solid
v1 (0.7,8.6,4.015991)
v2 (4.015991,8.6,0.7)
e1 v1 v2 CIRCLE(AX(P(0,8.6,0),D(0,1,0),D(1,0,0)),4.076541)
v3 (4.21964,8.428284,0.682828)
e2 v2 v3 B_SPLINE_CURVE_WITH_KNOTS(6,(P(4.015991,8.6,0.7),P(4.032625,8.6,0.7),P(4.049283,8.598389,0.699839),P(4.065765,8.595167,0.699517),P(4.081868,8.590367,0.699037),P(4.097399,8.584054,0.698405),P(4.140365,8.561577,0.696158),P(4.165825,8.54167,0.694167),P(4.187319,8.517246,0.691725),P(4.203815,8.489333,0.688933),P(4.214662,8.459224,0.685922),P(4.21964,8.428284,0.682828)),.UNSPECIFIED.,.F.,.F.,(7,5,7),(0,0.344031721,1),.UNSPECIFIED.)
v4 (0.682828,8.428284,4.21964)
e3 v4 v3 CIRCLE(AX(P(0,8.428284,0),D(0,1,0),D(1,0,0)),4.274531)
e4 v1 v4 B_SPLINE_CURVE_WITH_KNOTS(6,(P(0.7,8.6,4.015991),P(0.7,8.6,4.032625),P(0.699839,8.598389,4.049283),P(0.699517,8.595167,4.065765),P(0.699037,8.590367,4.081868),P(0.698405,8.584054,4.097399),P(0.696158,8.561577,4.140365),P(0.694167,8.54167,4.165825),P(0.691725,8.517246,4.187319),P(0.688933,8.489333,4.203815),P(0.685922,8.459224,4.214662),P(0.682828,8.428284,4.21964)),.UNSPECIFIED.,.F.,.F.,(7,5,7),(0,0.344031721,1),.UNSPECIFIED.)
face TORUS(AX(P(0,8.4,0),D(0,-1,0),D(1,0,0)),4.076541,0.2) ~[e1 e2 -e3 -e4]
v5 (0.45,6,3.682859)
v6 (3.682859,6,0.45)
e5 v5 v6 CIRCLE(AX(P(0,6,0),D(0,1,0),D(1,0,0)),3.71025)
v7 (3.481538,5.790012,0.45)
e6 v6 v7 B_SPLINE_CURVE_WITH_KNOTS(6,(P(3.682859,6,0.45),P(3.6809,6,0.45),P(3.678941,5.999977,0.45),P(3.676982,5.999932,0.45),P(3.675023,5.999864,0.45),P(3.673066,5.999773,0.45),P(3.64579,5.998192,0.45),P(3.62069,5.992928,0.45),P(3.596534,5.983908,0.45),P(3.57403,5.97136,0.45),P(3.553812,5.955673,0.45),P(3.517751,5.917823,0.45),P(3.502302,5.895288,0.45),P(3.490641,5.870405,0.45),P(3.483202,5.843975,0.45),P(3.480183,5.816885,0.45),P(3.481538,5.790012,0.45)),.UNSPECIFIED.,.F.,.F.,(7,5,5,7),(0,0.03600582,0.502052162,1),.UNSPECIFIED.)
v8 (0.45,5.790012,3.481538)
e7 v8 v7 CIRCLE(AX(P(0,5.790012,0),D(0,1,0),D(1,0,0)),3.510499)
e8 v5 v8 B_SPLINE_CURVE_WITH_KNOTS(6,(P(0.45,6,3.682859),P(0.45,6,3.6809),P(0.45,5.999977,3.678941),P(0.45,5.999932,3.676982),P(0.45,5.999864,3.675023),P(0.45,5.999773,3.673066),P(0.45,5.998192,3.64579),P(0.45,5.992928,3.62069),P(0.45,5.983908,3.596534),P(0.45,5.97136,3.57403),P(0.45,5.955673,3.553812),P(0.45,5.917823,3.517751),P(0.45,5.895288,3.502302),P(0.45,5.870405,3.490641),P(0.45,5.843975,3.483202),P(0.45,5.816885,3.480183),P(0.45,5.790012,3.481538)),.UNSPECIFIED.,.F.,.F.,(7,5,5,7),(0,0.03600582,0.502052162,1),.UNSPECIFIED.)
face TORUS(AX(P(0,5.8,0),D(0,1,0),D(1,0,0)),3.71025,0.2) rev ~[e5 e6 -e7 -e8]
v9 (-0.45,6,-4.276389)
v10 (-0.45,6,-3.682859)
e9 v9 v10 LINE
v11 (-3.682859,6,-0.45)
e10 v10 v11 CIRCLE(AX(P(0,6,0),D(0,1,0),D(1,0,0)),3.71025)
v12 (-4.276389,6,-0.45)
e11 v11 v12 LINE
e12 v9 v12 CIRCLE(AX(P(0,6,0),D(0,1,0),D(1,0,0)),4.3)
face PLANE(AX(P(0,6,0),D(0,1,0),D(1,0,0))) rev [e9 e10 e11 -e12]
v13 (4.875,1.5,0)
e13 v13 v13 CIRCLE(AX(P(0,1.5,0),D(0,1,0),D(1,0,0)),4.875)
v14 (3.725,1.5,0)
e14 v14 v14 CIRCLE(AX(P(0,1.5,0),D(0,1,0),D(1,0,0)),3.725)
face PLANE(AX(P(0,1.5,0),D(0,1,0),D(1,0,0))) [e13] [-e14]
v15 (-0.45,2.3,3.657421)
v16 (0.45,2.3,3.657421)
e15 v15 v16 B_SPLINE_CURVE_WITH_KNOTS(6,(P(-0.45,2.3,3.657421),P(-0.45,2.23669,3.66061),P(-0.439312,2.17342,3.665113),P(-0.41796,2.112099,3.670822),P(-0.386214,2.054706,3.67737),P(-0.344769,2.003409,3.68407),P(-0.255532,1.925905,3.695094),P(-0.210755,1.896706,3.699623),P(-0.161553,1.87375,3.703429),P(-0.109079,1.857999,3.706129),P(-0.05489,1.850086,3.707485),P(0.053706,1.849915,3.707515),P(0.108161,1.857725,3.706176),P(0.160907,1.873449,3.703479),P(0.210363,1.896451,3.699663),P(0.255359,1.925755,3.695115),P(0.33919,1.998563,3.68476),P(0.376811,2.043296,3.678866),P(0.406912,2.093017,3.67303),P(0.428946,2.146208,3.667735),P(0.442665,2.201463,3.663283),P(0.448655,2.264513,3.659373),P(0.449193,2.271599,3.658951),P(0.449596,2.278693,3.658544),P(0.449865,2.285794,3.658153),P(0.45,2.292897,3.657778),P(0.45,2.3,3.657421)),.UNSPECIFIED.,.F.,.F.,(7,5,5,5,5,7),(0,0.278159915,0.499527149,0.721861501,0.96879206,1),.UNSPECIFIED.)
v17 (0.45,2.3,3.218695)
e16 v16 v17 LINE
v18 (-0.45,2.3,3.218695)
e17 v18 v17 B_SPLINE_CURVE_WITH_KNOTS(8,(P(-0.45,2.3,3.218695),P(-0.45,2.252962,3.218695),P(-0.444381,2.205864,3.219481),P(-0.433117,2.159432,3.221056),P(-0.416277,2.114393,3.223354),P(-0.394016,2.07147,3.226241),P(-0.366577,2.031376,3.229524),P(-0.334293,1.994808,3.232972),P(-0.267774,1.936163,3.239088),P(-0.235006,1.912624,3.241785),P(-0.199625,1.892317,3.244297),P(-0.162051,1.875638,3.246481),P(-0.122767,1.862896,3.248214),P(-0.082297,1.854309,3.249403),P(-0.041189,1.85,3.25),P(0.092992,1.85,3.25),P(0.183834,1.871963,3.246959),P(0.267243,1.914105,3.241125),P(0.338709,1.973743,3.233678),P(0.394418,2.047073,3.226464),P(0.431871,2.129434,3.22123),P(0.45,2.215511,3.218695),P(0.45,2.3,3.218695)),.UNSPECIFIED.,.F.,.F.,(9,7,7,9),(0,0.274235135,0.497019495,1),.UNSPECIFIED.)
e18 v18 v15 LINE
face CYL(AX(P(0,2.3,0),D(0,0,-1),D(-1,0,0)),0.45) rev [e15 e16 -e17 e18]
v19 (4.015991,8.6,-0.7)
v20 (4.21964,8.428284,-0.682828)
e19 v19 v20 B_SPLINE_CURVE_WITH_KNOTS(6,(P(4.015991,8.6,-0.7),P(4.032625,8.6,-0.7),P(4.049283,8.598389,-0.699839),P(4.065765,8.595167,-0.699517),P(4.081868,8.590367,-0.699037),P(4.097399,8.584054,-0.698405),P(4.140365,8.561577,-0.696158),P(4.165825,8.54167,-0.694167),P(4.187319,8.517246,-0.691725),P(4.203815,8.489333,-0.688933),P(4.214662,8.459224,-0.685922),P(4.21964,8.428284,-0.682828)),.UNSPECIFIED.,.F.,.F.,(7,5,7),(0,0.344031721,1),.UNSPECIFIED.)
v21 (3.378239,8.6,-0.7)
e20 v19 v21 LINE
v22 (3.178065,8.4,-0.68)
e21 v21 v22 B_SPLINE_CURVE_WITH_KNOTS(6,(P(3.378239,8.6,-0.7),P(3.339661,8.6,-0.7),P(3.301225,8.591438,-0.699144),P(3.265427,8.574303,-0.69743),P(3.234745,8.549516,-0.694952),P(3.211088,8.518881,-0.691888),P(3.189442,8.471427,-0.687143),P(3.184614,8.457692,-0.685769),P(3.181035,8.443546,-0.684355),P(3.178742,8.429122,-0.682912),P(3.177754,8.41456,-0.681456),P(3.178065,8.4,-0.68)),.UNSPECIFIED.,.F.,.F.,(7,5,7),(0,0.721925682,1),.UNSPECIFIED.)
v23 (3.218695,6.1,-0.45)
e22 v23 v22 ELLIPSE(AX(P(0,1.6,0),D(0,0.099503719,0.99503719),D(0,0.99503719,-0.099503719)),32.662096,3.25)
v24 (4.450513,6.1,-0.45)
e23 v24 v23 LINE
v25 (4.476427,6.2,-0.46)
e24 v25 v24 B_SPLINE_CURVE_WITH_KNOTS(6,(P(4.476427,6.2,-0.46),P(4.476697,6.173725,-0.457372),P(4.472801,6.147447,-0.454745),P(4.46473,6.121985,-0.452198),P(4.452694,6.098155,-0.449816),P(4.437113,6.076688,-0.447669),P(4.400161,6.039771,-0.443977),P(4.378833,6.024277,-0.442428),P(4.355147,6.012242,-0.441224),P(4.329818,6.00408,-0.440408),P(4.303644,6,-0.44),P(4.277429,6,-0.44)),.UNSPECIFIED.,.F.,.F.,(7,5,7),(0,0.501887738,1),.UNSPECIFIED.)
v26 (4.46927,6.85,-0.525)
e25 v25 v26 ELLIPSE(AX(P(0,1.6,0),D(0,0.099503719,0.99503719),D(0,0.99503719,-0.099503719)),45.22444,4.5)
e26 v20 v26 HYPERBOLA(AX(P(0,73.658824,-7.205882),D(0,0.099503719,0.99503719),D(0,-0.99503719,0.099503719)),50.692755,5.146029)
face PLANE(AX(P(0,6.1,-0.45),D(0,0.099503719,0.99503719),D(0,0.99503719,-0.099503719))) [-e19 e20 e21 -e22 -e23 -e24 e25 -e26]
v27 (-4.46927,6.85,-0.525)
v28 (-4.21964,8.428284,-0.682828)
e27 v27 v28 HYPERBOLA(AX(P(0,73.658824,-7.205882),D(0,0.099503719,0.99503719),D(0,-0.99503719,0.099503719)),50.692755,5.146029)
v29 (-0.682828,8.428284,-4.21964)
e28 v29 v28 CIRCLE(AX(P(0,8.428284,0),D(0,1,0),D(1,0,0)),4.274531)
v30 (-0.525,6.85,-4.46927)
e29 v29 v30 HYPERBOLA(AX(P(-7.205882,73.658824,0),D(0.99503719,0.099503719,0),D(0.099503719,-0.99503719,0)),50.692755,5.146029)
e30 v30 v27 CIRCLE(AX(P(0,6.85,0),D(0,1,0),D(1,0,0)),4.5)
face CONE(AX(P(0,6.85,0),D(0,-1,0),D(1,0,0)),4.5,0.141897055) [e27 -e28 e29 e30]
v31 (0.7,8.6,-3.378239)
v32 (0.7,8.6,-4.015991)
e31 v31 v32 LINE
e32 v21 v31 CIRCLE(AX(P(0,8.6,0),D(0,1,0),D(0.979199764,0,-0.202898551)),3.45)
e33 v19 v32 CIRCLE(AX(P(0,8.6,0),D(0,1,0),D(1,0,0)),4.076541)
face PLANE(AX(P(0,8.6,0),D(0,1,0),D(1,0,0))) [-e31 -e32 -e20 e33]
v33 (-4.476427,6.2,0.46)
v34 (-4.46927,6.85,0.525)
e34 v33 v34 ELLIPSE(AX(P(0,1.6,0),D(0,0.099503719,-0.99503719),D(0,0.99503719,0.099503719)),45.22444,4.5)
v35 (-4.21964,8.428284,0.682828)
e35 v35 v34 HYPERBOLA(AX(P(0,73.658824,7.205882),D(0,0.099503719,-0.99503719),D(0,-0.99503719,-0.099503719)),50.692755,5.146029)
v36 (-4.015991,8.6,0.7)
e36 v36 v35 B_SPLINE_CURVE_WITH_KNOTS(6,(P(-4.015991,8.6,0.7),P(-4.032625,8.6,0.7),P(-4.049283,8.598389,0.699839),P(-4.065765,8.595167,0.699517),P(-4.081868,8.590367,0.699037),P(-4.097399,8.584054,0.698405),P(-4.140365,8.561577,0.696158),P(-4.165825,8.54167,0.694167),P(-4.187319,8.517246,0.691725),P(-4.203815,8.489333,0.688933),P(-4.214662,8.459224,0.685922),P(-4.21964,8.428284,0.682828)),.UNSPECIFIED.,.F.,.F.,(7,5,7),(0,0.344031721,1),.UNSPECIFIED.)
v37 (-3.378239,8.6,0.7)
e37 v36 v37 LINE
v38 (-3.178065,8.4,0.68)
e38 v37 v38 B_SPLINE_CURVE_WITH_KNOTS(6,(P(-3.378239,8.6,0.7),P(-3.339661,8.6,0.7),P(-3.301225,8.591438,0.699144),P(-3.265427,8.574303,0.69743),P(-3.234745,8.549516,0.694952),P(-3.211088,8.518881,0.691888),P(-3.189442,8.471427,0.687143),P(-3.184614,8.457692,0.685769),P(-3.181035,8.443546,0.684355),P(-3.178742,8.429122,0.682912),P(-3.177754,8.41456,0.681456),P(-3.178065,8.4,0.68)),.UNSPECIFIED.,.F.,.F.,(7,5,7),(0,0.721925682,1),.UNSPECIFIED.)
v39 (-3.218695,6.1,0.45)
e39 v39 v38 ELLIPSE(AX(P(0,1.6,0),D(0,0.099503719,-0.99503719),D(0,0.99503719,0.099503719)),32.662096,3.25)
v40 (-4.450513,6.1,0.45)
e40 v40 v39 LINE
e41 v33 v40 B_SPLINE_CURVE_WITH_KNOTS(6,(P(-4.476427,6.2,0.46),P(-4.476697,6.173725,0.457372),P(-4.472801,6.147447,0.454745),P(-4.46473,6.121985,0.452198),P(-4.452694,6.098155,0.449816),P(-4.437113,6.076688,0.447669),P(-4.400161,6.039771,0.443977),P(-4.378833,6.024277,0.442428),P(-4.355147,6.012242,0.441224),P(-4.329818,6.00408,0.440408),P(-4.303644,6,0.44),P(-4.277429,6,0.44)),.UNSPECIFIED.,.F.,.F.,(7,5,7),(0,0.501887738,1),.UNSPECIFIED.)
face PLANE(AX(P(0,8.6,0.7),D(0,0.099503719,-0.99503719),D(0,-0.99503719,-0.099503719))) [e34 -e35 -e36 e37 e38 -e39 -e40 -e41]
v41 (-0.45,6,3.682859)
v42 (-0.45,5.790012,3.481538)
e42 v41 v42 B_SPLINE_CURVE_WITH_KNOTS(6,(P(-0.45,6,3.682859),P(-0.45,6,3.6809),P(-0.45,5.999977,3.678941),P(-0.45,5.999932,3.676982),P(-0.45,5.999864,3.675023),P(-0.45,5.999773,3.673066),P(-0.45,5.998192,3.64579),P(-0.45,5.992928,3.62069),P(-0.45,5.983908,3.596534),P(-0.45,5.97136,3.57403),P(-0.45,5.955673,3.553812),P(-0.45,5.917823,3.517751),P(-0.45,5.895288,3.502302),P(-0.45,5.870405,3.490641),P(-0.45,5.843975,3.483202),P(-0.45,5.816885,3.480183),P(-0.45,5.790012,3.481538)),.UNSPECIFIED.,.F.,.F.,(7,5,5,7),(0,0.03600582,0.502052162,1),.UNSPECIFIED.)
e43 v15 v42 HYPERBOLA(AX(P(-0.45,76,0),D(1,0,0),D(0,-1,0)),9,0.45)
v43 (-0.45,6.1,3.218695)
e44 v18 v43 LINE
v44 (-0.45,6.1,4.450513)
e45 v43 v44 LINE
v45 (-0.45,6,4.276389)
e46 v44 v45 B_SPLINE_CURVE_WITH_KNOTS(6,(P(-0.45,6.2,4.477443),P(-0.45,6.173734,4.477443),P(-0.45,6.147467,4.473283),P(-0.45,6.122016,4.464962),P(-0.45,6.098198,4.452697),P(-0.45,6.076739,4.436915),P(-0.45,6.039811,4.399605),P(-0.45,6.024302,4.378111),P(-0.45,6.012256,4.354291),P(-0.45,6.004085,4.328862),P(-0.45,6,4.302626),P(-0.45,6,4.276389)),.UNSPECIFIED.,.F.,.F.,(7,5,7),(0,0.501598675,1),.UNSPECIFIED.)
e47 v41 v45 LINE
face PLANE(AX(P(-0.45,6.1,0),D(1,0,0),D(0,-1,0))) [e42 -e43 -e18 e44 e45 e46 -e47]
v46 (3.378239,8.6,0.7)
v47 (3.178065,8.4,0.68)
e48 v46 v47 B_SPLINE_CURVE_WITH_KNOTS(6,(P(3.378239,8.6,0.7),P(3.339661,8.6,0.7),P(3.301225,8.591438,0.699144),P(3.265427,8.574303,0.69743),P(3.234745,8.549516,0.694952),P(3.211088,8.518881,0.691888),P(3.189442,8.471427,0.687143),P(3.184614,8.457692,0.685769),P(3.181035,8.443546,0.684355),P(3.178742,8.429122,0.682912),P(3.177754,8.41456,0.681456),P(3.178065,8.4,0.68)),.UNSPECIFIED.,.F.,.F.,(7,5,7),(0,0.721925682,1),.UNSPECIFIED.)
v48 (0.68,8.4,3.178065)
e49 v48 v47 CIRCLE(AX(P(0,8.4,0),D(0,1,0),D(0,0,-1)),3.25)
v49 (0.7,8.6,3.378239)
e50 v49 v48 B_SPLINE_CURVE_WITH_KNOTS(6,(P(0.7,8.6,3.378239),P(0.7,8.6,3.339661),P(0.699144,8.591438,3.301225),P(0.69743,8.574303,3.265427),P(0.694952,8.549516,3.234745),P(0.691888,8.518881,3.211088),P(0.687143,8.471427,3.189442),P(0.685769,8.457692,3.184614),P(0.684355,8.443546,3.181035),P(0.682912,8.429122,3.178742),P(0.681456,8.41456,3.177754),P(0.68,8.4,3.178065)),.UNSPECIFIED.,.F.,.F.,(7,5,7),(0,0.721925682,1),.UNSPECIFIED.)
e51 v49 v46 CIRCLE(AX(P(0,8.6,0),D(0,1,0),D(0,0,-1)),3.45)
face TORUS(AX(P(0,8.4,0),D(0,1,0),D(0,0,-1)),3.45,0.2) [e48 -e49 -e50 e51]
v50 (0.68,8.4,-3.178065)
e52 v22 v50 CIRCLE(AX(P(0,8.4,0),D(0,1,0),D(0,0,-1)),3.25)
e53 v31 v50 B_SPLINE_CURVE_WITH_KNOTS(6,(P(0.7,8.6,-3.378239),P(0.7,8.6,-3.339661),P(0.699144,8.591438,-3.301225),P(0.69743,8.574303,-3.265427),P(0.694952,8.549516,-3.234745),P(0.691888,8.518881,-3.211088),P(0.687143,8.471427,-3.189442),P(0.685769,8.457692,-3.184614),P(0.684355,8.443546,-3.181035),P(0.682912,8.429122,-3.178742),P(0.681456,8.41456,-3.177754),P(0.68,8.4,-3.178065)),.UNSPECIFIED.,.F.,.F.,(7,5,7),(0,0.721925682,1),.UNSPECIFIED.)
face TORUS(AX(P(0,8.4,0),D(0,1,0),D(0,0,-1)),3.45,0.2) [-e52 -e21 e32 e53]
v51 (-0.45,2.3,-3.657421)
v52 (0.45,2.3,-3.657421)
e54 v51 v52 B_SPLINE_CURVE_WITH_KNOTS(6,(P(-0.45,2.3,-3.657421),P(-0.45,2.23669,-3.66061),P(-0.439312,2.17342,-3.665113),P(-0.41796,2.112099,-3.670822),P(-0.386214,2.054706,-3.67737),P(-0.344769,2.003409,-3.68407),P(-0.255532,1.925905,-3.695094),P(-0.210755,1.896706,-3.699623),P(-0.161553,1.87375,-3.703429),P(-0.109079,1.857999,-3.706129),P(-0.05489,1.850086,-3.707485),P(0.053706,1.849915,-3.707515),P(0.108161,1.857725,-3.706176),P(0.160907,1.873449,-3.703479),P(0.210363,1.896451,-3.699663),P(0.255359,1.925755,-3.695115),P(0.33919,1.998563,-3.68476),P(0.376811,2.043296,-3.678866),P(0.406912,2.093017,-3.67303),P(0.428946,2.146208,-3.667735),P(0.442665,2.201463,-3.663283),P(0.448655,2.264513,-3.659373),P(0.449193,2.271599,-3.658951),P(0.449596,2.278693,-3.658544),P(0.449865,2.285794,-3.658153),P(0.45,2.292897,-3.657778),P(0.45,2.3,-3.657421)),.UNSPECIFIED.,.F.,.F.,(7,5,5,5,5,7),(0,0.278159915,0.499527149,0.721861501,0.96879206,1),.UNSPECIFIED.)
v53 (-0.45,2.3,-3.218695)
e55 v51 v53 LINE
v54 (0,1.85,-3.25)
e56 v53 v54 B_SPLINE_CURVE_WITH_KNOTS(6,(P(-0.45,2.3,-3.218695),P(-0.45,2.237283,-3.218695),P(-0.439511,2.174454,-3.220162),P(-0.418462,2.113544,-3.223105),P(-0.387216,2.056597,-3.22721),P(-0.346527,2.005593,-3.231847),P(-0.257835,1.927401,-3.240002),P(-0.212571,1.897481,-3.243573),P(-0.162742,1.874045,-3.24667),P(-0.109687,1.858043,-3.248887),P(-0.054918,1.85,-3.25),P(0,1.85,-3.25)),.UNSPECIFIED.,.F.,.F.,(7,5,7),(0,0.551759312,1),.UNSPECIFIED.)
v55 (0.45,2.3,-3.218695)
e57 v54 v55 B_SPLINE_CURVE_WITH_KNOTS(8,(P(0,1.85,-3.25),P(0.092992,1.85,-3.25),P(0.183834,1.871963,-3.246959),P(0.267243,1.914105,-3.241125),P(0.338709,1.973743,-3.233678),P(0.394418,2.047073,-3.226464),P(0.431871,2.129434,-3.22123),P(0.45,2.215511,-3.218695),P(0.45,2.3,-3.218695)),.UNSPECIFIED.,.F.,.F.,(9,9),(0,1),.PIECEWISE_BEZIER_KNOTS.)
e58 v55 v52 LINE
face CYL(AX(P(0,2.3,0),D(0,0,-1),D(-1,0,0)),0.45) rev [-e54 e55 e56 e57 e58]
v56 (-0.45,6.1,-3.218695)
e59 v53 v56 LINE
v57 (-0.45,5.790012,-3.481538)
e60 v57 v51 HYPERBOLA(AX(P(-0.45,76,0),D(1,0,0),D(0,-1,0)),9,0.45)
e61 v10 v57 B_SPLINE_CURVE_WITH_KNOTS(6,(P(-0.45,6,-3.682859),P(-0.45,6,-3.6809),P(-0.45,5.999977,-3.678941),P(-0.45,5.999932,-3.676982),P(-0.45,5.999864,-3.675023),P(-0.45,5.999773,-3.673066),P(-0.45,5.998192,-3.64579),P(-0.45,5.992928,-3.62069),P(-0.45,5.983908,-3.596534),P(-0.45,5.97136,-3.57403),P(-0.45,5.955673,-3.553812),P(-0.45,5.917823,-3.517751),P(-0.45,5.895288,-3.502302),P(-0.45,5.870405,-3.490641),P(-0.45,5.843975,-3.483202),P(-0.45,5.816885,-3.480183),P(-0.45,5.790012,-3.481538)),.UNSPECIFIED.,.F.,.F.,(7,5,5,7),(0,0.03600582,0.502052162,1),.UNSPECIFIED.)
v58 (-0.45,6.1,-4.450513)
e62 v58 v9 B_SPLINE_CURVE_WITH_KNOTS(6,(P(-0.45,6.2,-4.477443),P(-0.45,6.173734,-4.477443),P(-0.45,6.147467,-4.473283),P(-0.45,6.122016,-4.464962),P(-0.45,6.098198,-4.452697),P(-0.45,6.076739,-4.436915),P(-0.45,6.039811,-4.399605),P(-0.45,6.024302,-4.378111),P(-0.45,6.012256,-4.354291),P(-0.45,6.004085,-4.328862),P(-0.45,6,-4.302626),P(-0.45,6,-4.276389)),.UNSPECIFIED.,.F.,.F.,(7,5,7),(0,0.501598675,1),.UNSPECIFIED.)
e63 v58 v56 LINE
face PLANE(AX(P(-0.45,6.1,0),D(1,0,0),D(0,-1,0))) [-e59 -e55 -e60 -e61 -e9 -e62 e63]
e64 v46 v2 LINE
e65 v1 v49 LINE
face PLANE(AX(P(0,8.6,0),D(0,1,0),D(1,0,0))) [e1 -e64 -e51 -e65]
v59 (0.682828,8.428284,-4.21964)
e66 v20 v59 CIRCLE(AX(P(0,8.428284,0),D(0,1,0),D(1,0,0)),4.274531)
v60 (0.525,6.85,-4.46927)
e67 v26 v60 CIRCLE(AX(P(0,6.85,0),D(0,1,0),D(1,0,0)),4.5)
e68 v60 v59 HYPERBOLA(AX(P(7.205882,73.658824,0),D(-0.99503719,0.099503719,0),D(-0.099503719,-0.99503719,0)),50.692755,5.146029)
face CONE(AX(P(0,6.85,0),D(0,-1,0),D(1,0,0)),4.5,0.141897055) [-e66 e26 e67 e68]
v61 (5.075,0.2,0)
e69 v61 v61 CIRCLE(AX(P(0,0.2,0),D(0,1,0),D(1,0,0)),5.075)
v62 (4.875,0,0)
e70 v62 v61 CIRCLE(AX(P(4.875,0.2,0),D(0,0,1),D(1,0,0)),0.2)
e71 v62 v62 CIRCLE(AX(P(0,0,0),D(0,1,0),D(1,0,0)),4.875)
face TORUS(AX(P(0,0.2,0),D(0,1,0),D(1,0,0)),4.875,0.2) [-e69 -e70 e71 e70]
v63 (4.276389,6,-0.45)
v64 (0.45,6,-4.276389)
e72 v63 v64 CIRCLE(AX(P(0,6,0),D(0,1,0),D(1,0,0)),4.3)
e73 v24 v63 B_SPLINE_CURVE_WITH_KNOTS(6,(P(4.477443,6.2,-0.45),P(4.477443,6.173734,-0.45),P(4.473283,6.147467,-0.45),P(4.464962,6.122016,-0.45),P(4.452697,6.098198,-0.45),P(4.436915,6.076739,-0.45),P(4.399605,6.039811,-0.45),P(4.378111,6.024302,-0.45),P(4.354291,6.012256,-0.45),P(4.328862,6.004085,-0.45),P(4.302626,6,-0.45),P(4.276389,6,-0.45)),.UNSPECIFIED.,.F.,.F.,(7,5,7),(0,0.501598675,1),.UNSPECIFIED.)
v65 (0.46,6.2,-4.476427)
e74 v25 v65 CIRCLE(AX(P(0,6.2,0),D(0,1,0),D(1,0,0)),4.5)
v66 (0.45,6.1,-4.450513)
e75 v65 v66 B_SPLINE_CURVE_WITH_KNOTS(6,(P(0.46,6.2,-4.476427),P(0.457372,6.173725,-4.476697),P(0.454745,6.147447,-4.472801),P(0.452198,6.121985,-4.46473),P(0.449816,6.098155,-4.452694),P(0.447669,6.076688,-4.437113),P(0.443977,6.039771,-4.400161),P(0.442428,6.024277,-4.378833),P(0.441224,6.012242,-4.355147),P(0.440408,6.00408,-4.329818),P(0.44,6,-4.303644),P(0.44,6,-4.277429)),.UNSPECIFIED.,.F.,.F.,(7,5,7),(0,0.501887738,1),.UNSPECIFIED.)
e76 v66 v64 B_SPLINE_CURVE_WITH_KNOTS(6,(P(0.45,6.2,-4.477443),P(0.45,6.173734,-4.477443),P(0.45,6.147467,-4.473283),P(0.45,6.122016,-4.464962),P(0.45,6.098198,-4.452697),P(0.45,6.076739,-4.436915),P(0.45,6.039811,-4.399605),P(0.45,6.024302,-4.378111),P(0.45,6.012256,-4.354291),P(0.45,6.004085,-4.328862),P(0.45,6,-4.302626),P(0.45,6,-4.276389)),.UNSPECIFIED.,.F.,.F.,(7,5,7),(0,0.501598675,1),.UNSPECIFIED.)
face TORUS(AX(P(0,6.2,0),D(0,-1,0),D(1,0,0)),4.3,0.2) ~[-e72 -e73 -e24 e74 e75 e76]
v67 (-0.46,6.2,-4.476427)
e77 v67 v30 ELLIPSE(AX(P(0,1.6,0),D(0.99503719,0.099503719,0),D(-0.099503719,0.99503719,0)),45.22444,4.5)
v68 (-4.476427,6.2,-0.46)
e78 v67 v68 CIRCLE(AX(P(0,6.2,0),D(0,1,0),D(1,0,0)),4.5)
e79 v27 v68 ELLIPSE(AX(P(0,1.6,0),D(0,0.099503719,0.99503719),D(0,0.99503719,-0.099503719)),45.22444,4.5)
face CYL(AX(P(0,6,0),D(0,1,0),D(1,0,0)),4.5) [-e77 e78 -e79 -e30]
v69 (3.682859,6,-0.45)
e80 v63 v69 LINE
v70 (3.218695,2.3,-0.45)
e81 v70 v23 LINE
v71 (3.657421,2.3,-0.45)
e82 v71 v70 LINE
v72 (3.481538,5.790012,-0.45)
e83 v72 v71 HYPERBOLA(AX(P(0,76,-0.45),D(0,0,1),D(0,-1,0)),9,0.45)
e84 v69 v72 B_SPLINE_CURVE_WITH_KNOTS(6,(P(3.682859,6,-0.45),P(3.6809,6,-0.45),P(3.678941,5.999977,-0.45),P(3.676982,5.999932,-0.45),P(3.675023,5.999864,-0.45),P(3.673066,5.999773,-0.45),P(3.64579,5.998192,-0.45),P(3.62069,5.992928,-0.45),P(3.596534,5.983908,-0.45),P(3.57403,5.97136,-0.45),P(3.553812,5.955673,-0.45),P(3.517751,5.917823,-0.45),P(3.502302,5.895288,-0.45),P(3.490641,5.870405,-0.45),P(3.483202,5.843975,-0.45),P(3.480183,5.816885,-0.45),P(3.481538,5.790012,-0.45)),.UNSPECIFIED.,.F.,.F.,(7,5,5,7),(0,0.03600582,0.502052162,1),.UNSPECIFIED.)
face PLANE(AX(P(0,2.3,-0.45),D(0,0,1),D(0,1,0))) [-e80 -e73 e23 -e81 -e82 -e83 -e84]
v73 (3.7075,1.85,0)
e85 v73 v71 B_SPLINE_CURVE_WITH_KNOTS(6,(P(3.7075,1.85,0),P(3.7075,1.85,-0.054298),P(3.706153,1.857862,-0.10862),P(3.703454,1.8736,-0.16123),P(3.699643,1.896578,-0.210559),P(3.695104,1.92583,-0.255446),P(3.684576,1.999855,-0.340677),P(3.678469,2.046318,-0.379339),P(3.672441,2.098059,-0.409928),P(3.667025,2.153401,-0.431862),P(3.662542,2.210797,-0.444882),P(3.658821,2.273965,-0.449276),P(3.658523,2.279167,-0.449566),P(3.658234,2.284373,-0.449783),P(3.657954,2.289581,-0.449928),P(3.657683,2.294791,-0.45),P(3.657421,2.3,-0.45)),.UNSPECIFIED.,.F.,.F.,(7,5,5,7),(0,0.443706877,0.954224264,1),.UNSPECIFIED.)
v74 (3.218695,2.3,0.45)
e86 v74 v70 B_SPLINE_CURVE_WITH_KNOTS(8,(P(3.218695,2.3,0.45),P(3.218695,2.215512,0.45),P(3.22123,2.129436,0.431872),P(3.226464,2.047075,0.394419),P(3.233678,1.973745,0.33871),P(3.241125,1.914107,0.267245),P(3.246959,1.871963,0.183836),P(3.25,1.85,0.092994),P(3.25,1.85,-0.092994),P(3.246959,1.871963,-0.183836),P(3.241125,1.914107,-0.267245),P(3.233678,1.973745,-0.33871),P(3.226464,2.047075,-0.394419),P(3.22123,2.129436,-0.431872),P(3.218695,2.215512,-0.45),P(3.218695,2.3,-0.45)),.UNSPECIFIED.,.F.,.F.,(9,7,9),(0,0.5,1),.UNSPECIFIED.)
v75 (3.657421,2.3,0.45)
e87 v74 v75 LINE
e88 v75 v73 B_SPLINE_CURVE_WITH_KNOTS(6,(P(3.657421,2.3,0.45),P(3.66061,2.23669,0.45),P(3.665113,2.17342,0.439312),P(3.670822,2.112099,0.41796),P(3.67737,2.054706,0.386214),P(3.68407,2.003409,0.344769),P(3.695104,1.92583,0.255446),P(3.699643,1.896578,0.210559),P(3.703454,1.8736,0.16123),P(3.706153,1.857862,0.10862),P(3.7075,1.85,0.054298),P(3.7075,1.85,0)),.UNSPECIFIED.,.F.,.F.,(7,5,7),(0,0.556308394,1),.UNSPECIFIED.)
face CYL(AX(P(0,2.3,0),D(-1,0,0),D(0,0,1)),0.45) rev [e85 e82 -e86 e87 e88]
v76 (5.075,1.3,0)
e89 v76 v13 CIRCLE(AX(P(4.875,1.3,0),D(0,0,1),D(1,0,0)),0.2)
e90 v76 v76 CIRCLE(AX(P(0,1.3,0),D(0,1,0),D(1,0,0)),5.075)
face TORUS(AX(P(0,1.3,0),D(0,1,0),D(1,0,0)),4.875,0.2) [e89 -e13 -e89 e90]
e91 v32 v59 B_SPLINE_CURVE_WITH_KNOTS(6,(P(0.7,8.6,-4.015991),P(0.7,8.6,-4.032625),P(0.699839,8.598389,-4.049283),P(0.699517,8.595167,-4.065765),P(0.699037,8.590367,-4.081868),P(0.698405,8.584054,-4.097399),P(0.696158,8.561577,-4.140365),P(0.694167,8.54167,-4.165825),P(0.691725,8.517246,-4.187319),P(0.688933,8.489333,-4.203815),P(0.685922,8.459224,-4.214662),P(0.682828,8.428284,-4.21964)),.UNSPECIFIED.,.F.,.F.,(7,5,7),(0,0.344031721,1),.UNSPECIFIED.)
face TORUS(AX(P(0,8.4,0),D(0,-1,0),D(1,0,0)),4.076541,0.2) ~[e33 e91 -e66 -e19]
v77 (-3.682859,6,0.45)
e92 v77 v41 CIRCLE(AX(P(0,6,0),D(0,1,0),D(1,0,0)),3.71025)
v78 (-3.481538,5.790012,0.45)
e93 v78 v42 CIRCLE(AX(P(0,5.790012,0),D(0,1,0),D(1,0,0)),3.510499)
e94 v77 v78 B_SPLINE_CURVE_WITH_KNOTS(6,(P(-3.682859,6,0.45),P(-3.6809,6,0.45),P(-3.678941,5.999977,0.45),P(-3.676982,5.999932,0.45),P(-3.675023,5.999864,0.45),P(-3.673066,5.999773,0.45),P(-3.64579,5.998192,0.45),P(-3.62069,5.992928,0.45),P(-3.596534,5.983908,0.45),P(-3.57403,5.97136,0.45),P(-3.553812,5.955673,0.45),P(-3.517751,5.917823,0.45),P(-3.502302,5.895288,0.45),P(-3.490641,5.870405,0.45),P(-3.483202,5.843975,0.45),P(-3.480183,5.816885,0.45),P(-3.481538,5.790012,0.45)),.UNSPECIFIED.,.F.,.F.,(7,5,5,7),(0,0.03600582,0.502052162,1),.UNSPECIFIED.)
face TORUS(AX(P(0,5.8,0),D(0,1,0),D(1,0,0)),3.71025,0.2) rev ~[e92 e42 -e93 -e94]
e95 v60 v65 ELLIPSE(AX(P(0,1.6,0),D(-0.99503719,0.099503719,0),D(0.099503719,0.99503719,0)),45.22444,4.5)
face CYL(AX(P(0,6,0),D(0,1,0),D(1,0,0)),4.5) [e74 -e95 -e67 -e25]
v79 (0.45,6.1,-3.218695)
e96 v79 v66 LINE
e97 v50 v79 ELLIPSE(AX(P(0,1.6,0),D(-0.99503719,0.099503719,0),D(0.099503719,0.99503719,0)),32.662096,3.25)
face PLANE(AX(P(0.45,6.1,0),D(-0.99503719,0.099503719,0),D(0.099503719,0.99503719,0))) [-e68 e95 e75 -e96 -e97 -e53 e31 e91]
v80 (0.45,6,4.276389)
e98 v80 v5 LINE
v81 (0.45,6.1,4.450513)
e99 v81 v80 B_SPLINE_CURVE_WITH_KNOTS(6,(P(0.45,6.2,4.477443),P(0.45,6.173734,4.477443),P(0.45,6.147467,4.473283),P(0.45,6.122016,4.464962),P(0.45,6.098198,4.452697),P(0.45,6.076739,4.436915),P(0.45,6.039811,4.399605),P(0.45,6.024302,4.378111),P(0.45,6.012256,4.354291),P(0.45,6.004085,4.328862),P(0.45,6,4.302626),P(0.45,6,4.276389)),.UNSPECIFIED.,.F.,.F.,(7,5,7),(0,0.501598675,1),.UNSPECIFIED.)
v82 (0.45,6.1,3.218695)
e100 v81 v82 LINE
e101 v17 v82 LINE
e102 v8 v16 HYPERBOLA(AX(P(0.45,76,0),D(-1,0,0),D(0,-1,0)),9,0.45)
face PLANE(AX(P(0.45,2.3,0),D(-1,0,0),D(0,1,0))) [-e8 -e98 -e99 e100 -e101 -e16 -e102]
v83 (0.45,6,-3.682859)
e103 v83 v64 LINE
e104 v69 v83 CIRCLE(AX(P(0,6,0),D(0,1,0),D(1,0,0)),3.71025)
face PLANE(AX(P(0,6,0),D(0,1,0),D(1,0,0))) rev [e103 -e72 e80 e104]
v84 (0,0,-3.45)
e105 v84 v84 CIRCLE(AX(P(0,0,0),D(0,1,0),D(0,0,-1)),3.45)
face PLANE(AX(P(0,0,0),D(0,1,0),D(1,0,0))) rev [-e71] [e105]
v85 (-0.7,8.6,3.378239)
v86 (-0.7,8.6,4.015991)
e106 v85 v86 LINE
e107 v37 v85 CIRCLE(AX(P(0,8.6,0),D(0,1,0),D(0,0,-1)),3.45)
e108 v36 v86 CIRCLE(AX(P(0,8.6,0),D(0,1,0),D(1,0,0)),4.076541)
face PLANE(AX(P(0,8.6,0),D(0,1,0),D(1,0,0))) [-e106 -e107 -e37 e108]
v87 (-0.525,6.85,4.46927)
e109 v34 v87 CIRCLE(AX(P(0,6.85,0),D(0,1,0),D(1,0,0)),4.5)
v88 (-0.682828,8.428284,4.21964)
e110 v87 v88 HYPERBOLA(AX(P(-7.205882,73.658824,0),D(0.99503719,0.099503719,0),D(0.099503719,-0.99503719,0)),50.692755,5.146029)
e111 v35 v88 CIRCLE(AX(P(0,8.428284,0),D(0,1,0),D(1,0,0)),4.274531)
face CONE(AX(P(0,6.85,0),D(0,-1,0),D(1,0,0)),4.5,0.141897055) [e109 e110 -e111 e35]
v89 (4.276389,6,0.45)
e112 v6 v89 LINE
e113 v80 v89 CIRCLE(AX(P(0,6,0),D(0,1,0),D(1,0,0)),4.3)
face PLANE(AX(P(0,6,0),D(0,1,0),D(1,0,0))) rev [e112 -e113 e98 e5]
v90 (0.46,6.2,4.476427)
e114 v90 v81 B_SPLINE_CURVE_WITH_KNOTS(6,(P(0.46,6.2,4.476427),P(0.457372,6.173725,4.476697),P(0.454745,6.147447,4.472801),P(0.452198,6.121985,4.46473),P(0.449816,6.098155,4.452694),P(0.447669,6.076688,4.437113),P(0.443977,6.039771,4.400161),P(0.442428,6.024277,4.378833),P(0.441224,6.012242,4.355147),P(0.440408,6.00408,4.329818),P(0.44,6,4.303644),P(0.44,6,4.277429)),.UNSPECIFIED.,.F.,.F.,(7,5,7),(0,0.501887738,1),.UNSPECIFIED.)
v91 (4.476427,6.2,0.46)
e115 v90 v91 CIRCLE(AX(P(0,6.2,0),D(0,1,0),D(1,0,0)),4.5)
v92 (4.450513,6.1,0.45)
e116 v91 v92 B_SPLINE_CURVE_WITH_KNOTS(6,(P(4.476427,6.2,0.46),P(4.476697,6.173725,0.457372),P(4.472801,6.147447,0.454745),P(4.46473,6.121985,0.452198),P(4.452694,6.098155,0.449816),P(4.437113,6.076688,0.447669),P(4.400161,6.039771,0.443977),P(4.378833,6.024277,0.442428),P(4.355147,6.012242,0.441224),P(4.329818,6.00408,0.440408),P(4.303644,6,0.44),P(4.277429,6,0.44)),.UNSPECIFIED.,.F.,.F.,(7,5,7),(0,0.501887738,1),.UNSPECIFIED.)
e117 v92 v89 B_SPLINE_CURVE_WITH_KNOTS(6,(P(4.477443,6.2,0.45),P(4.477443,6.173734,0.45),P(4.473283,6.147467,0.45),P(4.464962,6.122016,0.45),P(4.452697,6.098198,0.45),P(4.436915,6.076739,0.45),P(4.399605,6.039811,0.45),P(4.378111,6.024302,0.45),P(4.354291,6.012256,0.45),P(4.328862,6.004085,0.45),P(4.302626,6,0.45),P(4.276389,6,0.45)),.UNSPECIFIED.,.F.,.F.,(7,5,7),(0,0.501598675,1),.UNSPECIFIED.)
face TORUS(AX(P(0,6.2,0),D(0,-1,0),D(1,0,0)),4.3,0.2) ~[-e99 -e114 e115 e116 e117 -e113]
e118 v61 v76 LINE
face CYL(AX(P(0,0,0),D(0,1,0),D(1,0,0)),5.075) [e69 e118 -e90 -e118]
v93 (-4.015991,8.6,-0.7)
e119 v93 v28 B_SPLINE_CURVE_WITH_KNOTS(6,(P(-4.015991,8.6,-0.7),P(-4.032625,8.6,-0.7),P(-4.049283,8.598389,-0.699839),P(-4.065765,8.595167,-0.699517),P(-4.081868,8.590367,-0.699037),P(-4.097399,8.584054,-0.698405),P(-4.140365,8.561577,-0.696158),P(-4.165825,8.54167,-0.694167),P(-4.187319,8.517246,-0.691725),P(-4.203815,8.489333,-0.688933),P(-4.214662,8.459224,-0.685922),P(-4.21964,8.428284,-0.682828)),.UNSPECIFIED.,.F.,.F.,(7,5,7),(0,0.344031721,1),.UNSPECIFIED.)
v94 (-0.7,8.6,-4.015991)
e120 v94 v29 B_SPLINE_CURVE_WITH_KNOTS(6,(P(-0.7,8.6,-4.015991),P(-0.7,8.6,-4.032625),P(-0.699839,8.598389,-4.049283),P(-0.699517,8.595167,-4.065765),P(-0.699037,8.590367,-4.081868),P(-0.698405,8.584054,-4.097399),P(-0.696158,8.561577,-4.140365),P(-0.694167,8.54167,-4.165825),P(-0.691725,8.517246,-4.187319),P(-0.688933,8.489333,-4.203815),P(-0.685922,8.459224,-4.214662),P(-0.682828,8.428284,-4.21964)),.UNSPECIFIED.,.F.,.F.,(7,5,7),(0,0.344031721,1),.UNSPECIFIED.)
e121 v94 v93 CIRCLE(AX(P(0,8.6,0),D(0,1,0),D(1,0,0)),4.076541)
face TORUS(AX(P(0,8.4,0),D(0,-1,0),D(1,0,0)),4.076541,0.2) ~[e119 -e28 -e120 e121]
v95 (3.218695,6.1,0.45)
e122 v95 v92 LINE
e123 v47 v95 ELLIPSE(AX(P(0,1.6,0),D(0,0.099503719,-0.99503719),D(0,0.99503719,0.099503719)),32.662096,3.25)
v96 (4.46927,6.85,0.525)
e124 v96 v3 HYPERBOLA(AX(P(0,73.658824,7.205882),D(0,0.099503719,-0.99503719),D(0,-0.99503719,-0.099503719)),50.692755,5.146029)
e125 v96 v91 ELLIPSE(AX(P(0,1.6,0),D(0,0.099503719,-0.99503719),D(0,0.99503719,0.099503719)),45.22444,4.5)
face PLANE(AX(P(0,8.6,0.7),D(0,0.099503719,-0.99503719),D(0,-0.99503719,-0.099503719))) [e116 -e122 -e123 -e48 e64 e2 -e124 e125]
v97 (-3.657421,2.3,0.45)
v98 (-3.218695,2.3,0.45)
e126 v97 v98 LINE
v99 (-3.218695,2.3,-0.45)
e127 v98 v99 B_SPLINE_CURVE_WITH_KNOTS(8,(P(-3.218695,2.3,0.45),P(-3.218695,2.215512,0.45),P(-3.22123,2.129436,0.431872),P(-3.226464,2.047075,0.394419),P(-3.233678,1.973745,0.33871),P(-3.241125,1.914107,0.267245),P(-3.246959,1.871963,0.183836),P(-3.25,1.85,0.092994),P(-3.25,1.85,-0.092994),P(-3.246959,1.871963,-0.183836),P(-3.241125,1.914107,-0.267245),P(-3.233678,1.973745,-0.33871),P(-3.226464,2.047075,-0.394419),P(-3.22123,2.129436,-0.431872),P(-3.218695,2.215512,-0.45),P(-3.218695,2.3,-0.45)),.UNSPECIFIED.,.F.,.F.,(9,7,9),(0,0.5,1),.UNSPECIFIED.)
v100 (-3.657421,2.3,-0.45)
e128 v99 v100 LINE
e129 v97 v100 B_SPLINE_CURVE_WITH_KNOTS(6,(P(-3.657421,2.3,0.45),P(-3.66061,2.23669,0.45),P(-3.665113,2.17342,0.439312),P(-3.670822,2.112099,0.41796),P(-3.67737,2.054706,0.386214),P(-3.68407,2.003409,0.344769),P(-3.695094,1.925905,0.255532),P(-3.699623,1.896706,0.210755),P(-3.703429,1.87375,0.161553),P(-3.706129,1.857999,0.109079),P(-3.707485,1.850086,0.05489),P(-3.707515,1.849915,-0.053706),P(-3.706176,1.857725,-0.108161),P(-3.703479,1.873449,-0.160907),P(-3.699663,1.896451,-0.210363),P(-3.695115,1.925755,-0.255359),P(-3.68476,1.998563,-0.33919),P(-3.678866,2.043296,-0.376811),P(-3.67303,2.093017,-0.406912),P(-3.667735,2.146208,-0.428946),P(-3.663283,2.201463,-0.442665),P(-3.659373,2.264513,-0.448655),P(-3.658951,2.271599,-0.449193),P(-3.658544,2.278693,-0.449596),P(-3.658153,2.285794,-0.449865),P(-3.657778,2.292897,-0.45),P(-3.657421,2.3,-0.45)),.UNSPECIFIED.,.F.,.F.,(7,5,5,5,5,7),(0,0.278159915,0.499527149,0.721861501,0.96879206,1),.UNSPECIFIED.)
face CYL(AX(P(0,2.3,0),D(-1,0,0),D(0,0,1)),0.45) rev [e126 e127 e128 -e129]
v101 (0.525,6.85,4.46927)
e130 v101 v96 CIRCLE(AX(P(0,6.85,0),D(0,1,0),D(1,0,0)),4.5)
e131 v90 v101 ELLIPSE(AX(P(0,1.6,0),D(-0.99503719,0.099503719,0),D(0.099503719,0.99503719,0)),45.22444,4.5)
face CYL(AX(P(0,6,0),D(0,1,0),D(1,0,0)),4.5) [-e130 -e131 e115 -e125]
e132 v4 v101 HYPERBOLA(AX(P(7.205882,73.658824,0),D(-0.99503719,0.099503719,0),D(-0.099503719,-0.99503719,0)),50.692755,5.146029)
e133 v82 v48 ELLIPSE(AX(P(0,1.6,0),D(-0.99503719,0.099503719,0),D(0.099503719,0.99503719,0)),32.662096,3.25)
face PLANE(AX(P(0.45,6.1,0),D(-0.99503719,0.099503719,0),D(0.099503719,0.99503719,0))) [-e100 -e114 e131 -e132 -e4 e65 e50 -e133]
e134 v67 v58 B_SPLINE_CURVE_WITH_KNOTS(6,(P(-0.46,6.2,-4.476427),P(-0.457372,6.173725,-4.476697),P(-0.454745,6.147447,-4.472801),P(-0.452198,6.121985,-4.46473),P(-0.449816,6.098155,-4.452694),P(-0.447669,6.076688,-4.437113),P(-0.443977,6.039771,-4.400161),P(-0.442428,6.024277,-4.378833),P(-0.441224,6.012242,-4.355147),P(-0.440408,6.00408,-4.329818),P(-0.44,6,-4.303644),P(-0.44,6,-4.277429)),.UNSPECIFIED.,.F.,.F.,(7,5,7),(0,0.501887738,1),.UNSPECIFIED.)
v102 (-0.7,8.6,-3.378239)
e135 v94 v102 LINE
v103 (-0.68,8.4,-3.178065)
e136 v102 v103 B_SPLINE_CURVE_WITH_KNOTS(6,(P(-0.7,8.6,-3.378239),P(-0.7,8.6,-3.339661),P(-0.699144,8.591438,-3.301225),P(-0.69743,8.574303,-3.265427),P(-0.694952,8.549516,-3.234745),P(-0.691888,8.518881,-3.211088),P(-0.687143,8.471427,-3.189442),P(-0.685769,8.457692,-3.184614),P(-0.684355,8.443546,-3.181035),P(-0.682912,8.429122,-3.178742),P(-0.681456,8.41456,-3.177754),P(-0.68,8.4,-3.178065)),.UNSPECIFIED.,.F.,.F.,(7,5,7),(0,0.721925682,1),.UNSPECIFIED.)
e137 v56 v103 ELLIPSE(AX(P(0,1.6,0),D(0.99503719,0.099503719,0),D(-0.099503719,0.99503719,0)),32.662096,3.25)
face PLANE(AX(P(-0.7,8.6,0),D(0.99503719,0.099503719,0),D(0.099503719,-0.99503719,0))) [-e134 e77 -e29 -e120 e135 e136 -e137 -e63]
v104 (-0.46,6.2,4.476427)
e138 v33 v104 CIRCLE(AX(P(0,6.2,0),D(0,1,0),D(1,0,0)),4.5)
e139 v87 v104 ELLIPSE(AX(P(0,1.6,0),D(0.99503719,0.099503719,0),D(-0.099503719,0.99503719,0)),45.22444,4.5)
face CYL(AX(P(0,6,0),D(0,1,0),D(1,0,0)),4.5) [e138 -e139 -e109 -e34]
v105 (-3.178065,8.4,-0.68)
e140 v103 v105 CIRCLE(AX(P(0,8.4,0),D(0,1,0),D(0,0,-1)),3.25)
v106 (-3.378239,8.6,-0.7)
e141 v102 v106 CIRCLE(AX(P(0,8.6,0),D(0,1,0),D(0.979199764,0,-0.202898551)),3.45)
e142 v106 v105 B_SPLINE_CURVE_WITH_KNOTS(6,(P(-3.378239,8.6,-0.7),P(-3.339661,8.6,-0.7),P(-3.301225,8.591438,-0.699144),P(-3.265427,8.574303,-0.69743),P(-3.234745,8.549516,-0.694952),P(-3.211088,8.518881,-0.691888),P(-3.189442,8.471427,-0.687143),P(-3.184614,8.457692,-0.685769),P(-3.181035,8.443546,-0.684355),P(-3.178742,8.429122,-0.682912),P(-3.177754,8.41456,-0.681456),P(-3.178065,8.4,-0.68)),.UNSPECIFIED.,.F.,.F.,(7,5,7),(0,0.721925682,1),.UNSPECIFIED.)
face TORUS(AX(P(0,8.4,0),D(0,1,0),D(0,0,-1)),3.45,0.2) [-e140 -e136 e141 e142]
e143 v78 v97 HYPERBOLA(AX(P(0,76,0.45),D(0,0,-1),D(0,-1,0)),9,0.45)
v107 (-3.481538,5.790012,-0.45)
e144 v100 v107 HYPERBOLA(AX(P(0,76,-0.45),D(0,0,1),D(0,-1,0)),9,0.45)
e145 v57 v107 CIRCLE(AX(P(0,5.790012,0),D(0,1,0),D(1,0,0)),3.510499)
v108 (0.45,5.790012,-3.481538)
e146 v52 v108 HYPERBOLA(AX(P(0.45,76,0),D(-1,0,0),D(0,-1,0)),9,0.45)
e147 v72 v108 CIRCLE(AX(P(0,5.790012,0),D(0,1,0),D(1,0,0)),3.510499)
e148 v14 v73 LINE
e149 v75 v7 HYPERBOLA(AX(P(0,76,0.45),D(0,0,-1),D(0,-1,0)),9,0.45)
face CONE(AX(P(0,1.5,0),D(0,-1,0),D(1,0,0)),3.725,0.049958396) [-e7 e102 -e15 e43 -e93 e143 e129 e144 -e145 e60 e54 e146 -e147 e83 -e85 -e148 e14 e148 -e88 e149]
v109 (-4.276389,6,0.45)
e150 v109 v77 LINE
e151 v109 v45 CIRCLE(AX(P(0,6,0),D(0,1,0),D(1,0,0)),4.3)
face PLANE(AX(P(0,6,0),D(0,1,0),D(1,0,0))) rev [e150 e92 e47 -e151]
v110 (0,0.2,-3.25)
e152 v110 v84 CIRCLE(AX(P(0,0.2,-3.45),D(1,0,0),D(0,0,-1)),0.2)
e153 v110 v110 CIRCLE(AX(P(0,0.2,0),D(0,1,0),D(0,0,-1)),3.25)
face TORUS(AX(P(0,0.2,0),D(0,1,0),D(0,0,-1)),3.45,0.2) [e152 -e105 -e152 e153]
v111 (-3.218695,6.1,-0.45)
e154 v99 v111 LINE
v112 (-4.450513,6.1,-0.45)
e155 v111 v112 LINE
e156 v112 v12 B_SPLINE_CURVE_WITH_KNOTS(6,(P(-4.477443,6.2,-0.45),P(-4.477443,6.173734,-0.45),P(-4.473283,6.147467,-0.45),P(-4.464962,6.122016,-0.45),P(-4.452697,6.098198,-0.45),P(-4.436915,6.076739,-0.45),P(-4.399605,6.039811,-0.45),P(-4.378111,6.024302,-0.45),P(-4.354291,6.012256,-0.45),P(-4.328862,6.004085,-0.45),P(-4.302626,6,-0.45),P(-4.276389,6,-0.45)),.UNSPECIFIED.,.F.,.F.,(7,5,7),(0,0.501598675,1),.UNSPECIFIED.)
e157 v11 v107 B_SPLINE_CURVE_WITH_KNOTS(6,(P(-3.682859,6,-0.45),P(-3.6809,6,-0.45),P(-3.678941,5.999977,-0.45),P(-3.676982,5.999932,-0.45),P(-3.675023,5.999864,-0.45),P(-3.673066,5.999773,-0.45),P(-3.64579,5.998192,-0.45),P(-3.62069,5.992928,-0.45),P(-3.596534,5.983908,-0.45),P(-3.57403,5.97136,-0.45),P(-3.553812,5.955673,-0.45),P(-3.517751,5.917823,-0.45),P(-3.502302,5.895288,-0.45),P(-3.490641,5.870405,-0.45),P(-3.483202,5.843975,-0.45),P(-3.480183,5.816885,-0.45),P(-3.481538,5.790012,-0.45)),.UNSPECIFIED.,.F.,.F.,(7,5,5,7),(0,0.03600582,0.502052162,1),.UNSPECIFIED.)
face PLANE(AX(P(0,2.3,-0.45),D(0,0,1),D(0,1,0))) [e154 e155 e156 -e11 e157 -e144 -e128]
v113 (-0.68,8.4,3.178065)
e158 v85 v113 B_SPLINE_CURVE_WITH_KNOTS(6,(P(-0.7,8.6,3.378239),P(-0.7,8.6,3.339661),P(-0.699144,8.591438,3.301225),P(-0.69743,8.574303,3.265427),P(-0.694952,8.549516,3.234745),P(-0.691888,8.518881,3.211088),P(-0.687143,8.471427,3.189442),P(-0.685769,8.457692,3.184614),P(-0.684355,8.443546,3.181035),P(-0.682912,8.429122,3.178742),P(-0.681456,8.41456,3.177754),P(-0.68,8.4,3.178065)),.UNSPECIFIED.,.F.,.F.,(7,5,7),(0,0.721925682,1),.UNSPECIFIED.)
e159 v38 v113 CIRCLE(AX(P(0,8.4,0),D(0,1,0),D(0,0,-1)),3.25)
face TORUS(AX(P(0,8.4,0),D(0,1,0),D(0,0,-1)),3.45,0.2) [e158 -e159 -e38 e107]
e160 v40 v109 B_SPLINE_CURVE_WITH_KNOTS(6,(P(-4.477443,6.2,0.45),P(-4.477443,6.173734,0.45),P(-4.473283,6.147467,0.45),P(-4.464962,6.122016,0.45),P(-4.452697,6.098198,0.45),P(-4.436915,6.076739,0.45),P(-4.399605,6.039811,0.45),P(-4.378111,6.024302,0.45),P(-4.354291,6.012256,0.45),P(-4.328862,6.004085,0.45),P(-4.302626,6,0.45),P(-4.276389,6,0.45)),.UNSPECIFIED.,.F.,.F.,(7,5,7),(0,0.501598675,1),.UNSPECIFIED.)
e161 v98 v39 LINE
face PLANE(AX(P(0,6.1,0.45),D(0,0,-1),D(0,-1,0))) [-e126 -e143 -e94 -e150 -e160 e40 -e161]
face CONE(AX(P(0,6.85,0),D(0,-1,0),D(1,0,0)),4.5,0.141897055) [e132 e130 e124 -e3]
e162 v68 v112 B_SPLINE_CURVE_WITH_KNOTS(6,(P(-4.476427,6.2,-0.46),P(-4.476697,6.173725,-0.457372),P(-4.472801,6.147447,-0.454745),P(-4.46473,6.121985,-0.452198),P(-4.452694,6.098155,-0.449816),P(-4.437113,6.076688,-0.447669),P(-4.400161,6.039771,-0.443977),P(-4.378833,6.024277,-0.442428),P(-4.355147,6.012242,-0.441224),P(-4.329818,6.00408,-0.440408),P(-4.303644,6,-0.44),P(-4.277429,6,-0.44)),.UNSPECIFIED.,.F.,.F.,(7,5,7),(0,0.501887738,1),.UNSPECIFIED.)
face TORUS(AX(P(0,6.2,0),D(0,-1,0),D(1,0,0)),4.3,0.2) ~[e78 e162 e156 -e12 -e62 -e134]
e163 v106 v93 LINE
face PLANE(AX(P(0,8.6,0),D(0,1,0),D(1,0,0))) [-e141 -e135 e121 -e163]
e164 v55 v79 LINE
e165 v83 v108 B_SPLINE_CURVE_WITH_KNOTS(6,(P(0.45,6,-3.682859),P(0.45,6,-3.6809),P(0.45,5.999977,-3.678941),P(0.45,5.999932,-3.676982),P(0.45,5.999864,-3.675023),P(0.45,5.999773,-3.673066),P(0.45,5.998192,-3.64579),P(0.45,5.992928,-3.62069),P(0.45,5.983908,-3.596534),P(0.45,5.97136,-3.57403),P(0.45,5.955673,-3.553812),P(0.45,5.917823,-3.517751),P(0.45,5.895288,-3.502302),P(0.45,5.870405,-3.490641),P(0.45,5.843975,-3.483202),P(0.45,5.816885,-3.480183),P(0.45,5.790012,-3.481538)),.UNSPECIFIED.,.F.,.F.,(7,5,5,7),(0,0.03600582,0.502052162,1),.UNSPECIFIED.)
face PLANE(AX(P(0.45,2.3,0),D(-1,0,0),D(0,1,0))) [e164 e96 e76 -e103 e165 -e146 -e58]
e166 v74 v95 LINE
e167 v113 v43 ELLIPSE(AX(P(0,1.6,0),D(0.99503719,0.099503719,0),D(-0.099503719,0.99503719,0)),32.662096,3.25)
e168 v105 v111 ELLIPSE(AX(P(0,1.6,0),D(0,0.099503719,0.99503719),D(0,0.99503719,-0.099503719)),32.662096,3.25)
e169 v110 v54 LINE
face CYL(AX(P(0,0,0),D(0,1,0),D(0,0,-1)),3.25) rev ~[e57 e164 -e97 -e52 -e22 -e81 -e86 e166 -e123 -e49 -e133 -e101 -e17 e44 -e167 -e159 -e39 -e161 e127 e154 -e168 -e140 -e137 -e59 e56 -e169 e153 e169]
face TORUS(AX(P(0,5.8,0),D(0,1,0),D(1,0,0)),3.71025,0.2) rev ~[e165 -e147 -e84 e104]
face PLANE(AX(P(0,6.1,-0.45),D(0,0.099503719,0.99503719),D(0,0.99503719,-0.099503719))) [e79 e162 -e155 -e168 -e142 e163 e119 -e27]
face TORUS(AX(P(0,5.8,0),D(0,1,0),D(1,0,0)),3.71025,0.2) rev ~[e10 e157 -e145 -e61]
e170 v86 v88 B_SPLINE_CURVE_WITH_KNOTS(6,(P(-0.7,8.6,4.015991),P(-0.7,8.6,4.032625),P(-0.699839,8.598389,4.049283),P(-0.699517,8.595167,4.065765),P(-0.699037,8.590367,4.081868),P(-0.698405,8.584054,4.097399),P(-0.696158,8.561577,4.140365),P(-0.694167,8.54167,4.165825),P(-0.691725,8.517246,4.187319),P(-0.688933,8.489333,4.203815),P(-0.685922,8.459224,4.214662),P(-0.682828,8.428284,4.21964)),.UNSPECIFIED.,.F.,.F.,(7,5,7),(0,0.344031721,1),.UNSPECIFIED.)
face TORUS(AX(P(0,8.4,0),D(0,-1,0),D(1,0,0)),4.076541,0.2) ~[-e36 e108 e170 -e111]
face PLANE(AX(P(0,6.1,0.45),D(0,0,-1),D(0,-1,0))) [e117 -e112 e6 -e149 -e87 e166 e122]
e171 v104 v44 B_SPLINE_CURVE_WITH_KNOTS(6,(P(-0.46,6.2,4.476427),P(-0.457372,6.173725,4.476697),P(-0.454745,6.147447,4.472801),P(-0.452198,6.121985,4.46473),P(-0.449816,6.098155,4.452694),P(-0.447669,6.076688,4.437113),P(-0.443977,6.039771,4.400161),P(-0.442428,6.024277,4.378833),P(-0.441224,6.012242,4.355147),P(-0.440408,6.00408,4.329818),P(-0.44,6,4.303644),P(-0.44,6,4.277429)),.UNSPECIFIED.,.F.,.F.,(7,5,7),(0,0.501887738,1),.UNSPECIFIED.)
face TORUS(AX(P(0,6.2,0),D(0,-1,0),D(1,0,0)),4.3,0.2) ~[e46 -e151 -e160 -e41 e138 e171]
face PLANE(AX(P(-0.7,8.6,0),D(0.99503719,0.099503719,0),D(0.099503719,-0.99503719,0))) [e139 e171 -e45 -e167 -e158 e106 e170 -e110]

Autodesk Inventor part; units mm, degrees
ref_plane "YZ Plane" through (0, 0, 0) normal (1, 0, 0) x (0, 1, 0)
ref_plane "XZ Plane" through (0, 0, 0) normal (0, 1, 0) x (-1, 0, 0)
ref_plane "XY Plane" through (0, 0, 0) normal (0, 0, 1) x (1, 0, 0)
sketch "Esquisse1" plane through (0, 0, 0) normal (0, 0, 1) x (1, 0, 0)
  line L0 (0, 0) -> (5.075, 0)
  line L1 (5.075, 0) -> (5.075, 1.5)
  line L2 (5.075, 1.5) -> (3.725, 1.5)
  line L3 (3.725, 1.5) -> (3.5, 6)
  line L4 (3.5, 6) -> (4.5, 6)
  line L5 (4.5, 6) -> (4.5, 6.85)
  line L6 (4.5, 6.85) -> (4.25, 8.6)
  line L7 (4.25, 8.6) -> (0, 8.6)
  line L8 (0, 8.6) -> (0, 0)
  line L9 (0, 0) -> (0, 11.7685)
  dimension "d1" = 10.15
  dimension "d2" = 8.6
  dimension "d3" = 1.5
  dimension "d4" = 4.5
  dimension "d5" = 7.45
  dimension "d6" = 7
  dimension "d7" = 9
  dimension "d8" = 8.5
  dimension "d9" = 0.85
revolve "Révolution1" add sketch "Esquisse1" angle 360 about axis through (0, 0, 0) along (0, 1, 0)
sketch "Esquisse2" plane through (0, 0, 0) normal (0, -1, 0) x (1, 0, 0)
  point P0 (0, 0)
  point P1 (0, 0)
hole "Perçage1" at (0, 0, 0) direction (0, 1, 0) diameter 6.5 end through all
fillet "Congé1" radius 0.2 7 edges at (-4.25, 8.6, 0) (0, 8.6, 3.25) (-5.075, 1.5, 0) (-5.075, 0, 0) (0, 0, 3.25) (-4.5, 6, 0) (-3.5, 6, 0)
sketch "Esquisse3" plane through (0, 0, 0) normal (1, 0, 0) x (0, 1, 0)
  line L0 (8.6, 0.7) -> (6.1, 0.45)
  line L1 (6.1, 0.45) -> (2.3, 0.45)
  arc A0 (2.3, 0.45) -> (2.3, -0.45) centre (2.3, 0) ccw
  line L2 (2.3, -0.45) -> (6.1, -0.45)
  line L3 (6.1, -0.45) -> (8.6, -0.7)
  line L4 (8.6, -0.7) -> (8.6, 0.7)
  line L5 (8.6, 3.25) -> (8.6, -3.25) construction
  point P0 (0, 0)
  point P1 (8.6, 0)
  dimension "d18" = 0.9
  dimension "d19" = 6.3
  dimension "d20" = 1.4
  dimension "d21" = 2.5
extrude "Extrusion1" cut sketch "Esquisse3" along normal through all both and the other way through all
pattern_circular "Réseau circulaire1" count 2 over 90 about axis through (0, 16.7333, 0) along (0, -1, 0) of "Extrusion1"
properties part number "Clip pneumatique" material "Plastique ABS"
